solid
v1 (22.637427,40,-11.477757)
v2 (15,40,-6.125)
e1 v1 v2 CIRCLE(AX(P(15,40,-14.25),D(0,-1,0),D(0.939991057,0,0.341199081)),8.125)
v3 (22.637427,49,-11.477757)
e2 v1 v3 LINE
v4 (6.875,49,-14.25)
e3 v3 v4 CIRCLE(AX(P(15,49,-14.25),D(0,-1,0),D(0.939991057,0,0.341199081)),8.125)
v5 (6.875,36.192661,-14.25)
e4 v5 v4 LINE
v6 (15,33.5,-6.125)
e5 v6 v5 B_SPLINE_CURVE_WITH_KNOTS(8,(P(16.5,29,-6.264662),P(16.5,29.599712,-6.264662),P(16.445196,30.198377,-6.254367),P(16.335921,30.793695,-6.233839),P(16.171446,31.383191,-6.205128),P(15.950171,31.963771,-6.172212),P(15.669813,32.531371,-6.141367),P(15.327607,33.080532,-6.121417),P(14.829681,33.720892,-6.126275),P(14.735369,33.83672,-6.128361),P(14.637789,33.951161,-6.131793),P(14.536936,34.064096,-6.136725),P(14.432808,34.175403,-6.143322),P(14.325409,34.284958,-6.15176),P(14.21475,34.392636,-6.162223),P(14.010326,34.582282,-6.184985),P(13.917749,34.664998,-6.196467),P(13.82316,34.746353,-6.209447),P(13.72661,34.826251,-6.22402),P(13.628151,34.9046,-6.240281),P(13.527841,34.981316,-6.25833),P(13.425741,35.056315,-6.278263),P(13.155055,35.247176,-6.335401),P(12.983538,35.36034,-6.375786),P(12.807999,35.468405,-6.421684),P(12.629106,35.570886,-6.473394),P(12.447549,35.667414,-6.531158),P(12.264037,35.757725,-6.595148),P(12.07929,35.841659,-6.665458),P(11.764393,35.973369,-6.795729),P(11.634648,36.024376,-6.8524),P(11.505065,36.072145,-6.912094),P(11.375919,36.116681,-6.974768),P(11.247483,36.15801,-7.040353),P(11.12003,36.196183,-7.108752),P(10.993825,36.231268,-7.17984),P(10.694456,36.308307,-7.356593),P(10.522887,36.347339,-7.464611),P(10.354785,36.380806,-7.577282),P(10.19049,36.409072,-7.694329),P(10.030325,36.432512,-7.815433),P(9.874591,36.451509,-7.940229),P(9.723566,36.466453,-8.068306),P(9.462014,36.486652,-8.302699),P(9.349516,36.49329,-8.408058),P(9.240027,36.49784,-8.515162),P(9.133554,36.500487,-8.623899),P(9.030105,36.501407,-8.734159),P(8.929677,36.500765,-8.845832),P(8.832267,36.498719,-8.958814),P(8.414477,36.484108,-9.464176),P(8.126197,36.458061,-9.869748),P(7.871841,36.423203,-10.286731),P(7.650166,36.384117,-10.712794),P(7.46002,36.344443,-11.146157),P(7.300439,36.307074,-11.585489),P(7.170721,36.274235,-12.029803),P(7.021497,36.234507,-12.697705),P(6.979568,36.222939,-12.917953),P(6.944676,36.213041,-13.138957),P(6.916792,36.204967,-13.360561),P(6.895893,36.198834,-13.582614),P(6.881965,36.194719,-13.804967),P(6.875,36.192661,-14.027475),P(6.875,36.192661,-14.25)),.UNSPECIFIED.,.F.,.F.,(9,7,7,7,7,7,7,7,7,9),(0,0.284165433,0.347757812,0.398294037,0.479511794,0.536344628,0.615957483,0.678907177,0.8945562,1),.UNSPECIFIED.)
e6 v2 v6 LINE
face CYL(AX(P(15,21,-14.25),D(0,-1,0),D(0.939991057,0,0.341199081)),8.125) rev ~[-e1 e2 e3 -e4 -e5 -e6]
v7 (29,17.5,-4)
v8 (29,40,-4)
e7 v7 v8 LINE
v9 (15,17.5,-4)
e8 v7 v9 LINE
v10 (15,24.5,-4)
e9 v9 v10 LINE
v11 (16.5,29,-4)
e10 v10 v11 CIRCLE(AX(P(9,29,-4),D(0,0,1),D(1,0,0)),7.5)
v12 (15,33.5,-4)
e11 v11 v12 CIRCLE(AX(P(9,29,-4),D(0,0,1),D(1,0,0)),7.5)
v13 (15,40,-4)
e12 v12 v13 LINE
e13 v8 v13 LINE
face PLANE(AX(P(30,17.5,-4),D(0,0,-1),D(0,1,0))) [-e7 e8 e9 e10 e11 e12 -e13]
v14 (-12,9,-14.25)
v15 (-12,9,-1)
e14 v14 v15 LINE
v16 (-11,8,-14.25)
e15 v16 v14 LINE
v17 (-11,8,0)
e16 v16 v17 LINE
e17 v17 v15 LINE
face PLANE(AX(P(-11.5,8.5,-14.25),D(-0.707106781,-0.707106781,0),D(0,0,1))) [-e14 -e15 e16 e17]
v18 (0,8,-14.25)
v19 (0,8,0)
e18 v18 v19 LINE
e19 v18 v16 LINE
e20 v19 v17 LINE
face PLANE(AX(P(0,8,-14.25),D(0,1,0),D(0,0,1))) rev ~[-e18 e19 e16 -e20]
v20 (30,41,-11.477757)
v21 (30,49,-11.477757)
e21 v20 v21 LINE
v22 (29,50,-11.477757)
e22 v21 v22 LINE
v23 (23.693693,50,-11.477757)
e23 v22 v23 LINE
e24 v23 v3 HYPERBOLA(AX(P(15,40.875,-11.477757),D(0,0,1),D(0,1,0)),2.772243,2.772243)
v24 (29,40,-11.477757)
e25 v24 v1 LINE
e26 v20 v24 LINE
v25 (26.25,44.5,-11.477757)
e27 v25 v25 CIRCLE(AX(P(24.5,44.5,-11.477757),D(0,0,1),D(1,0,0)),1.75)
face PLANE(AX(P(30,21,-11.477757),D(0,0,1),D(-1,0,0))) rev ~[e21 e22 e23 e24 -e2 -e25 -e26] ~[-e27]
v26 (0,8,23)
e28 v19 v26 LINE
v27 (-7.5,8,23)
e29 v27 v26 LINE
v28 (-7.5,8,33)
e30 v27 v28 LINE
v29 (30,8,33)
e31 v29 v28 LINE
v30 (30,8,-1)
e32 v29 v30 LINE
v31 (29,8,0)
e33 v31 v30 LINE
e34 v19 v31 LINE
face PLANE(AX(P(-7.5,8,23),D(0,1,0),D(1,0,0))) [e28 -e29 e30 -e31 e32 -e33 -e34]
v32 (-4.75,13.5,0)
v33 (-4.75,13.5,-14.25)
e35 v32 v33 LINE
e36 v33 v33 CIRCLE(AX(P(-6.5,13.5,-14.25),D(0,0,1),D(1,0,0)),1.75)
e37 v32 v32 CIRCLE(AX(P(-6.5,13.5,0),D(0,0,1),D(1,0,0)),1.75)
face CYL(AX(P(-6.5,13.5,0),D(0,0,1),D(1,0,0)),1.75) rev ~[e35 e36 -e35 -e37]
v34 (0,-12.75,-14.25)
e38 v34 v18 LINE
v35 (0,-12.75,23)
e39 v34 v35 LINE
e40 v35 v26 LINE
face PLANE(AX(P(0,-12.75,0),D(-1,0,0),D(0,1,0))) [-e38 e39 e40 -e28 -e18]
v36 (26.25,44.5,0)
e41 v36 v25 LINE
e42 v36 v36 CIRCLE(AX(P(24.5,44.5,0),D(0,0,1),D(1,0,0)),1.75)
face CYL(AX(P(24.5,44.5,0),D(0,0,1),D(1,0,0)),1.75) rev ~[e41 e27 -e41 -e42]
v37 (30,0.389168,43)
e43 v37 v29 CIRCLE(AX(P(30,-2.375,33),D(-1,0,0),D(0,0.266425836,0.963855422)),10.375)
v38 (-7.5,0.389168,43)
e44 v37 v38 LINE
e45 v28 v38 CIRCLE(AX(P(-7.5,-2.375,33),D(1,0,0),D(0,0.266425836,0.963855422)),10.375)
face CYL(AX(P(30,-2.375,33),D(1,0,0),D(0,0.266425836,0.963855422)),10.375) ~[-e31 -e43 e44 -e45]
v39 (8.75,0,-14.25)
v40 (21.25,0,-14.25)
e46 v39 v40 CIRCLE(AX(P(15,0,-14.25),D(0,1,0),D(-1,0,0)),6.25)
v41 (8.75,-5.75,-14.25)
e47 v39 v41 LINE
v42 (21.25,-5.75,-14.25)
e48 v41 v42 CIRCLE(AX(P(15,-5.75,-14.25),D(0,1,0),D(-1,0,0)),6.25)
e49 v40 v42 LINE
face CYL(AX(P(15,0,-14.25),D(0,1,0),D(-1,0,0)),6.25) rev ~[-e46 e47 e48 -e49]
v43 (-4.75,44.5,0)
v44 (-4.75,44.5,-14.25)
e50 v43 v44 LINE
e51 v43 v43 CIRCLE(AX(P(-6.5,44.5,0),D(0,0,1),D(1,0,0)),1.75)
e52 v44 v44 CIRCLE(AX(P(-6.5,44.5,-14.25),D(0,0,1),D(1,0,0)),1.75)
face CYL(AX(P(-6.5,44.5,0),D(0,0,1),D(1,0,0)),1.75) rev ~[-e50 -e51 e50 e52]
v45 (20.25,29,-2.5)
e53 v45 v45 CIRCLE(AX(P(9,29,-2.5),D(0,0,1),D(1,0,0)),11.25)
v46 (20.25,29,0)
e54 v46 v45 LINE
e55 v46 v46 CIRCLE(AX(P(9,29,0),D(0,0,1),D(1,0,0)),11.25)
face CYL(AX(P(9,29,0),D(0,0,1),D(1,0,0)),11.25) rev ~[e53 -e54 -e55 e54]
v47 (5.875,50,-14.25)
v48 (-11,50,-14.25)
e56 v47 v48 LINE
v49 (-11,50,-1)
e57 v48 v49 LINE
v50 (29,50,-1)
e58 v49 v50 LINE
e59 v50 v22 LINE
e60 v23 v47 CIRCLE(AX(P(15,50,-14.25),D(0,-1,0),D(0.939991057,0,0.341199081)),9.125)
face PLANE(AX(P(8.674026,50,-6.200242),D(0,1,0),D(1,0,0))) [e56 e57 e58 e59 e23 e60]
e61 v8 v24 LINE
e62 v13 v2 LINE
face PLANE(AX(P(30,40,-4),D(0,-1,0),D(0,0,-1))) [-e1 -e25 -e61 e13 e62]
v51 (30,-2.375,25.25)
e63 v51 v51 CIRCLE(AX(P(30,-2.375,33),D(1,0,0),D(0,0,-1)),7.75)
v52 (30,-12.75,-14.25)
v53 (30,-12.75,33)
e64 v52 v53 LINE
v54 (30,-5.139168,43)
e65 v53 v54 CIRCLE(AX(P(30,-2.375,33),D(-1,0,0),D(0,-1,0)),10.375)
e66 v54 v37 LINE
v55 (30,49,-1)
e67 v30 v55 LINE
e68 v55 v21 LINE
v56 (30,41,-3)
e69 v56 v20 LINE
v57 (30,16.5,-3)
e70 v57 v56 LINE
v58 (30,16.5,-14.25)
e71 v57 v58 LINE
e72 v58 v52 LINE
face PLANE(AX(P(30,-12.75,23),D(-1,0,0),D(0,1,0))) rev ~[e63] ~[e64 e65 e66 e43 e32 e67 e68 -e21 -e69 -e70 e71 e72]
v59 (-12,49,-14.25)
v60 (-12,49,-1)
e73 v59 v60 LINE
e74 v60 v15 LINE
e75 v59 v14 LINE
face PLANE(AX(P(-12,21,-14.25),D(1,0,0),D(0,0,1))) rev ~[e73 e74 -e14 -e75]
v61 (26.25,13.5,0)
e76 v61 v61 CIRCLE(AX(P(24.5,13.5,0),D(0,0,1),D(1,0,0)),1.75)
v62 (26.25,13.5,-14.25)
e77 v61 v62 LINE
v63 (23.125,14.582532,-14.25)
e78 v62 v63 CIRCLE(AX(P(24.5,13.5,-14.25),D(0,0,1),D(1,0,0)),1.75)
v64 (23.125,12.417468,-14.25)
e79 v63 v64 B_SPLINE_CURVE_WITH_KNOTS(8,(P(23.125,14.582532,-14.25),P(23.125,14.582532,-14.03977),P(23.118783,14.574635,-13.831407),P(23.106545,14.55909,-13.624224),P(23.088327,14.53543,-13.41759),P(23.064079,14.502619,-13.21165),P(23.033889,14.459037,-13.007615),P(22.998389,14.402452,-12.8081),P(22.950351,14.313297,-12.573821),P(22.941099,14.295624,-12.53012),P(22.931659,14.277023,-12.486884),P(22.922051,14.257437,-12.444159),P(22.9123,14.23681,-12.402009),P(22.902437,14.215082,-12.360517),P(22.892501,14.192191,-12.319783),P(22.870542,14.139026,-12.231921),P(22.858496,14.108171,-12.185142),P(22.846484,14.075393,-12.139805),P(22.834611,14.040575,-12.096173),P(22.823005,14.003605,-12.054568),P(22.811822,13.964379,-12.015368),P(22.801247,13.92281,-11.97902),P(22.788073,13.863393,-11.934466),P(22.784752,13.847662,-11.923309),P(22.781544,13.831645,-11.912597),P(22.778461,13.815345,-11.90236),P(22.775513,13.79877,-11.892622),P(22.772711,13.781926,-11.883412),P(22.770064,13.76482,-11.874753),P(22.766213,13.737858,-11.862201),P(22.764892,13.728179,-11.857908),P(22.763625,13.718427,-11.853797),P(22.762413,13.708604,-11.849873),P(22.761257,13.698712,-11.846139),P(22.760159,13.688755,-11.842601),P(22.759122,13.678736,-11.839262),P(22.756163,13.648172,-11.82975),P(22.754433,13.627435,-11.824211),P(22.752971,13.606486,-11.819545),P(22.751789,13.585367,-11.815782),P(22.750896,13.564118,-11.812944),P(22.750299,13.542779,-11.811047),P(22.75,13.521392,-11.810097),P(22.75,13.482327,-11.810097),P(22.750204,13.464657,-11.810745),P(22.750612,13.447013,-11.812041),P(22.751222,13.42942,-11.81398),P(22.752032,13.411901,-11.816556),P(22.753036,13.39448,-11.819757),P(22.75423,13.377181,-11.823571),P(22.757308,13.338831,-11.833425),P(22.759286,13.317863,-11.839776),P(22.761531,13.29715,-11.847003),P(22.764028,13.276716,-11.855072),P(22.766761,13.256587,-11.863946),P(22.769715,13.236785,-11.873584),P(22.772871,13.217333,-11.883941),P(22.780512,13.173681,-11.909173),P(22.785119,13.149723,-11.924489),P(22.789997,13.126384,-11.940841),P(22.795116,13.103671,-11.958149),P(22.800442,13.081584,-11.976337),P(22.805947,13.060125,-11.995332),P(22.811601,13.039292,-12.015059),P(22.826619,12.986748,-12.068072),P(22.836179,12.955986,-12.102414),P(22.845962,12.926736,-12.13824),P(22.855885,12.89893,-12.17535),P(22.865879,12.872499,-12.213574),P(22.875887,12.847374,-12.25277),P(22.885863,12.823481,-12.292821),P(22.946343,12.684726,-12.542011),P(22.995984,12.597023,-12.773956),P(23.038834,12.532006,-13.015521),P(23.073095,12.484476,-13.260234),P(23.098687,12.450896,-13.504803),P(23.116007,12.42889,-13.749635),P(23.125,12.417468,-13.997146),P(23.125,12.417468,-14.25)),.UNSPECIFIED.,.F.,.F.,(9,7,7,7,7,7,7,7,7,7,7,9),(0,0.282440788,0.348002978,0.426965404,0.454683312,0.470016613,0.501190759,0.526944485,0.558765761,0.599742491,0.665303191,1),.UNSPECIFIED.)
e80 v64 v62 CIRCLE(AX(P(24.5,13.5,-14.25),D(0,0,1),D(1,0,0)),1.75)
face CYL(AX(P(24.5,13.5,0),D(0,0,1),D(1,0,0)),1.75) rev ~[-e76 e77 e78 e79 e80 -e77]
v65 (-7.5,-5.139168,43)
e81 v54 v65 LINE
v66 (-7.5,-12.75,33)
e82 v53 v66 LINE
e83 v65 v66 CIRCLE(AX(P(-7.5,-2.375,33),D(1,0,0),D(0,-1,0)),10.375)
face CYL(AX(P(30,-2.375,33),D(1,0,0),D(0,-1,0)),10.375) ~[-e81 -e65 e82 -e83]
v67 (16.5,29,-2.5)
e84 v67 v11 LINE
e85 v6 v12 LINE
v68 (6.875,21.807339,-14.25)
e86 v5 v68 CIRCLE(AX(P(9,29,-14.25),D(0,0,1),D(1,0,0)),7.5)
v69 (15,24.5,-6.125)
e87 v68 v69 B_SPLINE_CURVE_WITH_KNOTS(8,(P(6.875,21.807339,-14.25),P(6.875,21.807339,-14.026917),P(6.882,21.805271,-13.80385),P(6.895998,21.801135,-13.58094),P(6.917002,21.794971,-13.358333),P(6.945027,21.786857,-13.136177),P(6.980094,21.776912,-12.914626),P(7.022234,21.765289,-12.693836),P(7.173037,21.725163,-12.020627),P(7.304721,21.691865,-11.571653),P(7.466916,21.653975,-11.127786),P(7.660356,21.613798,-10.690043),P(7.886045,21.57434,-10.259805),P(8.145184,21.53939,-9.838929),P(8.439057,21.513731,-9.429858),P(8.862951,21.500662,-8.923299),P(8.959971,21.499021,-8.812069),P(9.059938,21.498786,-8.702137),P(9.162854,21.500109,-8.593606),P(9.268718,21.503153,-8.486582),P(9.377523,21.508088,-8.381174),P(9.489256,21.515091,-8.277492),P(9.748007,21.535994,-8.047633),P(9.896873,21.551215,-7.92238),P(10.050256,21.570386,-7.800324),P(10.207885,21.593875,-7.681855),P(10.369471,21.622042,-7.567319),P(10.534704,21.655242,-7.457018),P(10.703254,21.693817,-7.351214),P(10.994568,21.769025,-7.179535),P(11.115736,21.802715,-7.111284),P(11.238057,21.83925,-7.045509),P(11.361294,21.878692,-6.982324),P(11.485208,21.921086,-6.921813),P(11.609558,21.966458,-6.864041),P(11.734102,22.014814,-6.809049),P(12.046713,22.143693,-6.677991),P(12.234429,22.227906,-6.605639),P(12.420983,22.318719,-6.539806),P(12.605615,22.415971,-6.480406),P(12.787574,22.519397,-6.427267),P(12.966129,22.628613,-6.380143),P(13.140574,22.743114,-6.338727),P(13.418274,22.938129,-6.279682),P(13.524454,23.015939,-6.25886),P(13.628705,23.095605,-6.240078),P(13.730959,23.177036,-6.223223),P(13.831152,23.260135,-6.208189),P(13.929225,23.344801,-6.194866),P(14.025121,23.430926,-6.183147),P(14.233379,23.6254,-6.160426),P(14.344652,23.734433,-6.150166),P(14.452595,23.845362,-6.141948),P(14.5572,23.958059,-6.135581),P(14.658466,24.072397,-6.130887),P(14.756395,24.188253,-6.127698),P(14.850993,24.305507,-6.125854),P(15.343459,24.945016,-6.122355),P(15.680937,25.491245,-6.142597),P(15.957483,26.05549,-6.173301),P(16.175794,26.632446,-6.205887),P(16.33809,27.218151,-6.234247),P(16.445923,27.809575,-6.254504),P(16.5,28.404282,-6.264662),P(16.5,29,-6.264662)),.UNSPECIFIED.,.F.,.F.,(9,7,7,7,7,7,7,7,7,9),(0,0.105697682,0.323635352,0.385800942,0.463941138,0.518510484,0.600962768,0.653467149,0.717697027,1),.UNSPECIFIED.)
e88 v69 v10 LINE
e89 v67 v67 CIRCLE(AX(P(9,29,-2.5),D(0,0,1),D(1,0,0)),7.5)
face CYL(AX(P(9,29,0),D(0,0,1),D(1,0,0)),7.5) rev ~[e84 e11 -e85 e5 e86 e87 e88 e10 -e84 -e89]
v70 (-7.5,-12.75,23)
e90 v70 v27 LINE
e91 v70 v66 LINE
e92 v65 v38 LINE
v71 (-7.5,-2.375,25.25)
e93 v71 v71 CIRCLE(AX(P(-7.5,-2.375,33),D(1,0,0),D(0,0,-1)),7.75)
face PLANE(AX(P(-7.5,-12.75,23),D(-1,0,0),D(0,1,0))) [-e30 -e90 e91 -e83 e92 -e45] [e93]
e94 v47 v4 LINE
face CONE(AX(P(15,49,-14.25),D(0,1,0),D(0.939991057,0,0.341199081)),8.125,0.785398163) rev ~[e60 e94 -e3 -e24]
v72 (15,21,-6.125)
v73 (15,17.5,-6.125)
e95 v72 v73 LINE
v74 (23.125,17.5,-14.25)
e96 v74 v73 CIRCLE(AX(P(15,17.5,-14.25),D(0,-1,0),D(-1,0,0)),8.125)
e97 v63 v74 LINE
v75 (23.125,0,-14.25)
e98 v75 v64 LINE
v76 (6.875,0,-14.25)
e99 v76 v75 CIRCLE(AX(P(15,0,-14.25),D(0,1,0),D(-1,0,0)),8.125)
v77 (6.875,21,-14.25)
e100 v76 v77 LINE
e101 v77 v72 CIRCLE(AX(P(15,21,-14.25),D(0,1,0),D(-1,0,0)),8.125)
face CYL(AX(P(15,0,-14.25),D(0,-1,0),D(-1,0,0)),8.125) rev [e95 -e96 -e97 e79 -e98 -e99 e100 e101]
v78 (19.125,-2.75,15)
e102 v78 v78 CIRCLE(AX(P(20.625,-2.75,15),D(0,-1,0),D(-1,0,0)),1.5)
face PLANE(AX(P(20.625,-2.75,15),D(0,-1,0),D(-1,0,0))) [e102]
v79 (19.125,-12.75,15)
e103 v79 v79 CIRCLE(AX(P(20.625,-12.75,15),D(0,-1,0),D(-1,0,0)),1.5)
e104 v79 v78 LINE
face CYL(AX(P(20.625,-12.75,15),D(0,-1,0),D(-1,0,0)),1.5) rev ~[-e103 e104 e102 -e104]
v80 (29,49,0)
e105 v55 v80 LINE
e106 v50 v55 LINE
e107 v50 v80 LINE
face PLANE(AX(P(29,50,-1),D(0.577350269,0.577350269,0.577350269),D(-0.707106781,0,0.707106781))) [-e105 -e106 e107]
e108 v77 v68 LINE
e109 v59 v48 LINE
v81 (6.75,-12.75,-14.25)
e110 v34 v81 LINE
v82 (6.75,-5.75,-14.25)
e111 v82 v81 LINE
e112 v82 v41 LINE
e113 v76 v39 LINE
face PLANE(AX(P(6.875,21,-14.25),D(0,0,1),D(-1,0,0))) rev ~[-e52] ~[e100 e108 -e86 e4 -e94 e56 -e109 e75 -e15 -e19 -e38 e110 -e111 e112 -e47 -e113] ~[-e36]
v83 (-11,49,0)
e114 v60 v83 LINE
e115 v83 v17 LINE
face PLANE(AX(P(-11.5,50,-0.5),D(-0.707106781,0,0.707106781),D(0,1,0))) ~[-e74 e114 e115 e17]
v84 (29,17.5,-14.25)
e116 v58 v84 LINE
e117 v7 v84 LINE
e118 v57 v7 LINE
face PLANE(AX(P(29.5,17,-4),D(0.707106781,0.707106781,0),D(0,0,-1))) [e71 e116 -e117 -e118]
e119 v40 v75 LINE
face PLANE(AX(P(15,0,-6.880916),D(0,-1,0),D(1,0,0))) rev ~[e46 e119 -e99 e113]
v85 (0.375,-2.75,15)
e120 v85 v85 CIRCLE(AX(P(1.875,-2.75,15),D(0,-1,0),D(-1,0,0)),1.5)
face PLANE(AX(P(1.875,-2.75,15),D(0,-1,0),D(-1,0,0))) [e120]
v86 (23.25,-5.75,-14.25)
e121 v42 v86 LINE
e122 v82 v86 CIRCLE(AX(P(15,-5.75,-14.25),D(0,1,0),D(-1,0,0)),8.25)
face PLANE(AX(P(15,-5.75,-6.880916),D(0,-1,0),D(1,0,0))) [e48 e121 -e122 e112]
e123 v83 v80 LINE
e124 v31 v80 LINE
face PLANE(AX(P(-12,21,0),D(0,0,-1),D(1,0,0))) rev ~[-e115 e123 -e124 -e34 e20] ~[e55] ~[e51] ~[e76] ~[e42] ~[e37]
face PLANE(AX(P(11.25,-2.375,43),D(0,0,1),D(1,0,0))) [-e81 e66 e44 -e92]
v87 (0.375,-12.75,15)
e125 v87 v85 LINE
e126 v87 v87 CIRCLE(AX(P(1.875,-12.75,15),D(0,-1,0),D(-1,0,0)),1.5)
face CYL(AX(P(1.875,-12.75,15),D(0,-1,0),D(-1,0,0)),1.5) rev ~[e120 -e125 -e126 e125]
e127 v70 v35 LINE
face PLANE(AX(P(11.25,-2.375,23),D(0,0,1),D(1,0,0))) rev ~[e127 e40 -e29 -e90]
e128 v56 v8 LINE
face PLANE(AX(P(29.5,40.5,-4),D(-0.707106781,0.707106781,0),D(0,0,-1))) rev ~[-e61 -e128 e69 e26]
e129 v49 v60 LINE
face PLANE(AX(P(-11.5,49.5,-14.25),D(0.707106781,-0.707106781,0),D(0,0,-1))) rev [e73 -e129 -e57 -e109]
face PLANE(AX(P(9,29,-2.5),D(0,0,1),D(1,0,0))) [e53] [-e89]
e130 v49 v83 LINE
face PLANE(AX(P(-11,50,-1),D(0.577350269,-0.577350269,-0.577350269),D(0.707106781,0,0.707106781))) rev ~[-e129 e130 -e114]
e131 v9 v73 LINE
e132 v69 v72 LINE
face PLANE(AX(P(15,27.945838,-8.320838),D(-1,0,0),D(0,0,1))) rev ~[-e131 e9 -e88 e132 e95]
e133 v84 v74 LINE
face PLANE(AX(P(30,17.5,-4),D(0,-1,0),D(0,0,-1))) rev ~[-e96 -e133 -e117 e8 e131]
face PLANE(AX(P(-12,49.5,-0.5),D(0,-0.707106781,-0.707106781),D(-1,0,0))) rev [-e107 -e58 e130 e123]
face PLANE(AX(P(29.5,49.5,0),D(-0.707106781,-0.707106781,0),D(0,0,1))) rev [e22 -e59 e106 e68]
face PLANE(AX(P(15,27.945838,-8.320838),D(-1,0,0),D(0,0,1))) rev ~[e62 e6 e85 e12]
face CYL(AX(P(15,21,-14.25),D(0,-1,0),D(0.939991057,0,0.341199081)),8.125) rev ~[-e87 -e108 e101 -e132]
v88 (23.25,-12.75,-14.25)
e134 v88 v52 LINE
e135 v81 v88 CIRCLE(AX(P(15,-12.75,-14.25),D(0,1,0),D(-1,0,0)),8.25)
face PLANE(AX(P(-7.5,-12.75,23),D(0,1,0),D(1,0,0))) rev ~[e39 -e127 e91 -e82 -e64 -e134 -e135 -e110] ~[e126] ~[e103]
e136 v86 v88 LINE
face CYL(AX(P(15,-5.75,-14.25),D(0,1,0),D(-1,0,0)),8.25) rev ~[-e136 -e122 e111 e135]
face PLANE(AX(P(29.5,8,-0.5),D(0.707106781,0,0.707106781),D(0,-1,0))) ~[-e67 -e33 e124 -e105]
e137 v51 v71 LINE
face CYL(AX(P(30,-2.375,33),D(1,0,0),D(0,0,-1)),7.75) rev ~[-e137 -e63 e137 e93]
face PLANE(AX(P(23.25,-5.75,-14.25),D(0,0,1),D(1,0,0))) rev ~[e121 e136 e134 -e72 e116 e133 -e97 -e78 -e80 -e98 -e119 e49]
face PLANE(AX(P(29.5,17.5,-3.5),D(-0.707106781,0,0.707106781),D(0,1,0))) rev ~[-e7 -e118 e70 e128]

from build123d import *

# Parameters (mm, degrees)
BOSS_EXTRUDE1_DEPTH = 21
BOSS_EXTRUDE2_DEPTH = 5.75
BOSS_EXTRUDE3_DEPTH = 7
SKETCH6_W           = 14.25
SKETCH6_H           = 13
BOSS_EXTRUDE4_DEPTH = 12
BOSS_EXTRUDE5_DEPTH = 29
SKETCH8_R           = 11.25
CUT_EXTRUDE1_DEPTH  = 2.5
SKETCH9_R           = 1.75
SKETCH9_R_2         = 7.5
CUT_EXTRUDE2_DEPTH  = 15.25
SKETCH10_W          = 30
SKETCH10_H          = 20.75
BOSS_EXTRUDE6_DEPTH = 23
CUT_EXTRUDE4_DEPTH  = 15
SKETCH12_W          = 37.5
SKETCH12_H          = 20.75
BOSS_EXTRUDE7_DEPTH = 20
SKETCH13_R          = 7.75
CUT_EXTRUDE5_DEPTH  = 43
SKETCH14_R          = 1.5
CUT_EXTRUDE6_DEPTH  = 10
CHAMFER1_SIZE       = 1


with BuildPart() as part:
    # Sketch1 → Boss-Extrude1 (new body)
    with BuildSketch(Plane(origin=(0, 0, 0), x_dir=(1, 0, 0), z_dir=(0, 1, 0))):
        with BuildLine():
            Line((23.125, 14.25), (30, 14.25))
            Line((30, 14.25), (30, 0))
            Line((30, 0), (0, 0))
            Line((0, 0), (0, 14.25))
            Line((0, 14.25), (6.875, 14.25))
            ThreePointArc((6.875, 14.25), (15, 6.125), (23.125, 14.25))
        make_face()
    extrude(amount=BOSS_EXTRUDE1_DEPTH)

    # Sketch2 → Boss-Extrude2 (add)
    with BuildSketch(Plane.XZ):
        with BuildLine():
            Line((21.25, -14.25), (30, -14.25))
            Line((30, -14.25), (30, 0))
            Line((30, 0), (0, 0))
            Line((0, 0), (0, -14.25))
            Line((0, -14.25), (8.75, -14.25))
            ThreePointArc((8.75, -14.25), (15, -8), (21.25, -14.25))
        make_face()
    extrude(amount=BOSS_EXTRUDE2_DEPTH)

    # Sketch3 → Boss-Extrude3 (add)
    with BuildSketch(Plane.XZ.offset(5.75)):
        with BuildLine():
            Line((23.25, -14.25), (30, -14.25))
            Line((30, -14.25), (30, 0))
            Line((30, 0), (0, 0))
            Line((0, 0), (0, -14.25))
            Line((0, -14.25), (6.75, -14.25))
            ThreePointArc((6.75, -14.25), (15, -6), (23.25, -14.25))
        make_face()
    extrude(amount=BOSS_EXTRUDE3_DEPTH)

    # Sketch6 → Boss-Extrude4 (add)
    with BuildSketch(Plane.ZY):
        with Locations((-7.125, 14.5)):
            Rectangle(SKETCH6_W, SKETCH6_H)
    extrude(amount=BOSS_EXTRUDE4_DEPTH)

    # Sketch7 → Boss-Extrude5 (add)
    with BuildSketch(Plane(origin=(0, 21, 0), x_dir=(1, 0, 0), z_dir=(0, 1, 0))):
        with BuildLine():
            Line((-12, 0), (30, 0))
            Line((30, 0), (30, 5.621629424))
            Line((30, 5.621629424), (30, 11.47775747))
            Line((30, 11.47775747), (24.530058266, 11.47775747))
            Line((24.530058266, 11.47775747), (22.637427339, 11.47775747))
            ThreePointArc((22.637427339, 11.47775747), (13.592603845, 6.24782148), (6.875, 14.25))
            Line((6.875, 14.25), (0.717619185, 14.25))
            Line((0.717619185, 14.25), (-12, 14.25))
            Line((-12, 14.25), (-12, 5.621629424))
            Line((-12, 5.621629424), (-12, 0))
        make_face()
    extrude(amount=BOSS_EXTRUDE5_DEPTH)

    # Sketch8 → Cut-Extrude1 (cut)
    with BuildSketch(Plane.XY):
        with Locations((9, 29)):
            Circle(SKETCH8_R)
    extrude(amount=-CUT_EXTRUDE1_DEPTH, mode=Mode.SUBTRACT)

    # Sketch9 → Cut-Extrude2 (cut, through all)
    with BuildSketch(Plane.XY):
        with Locations((-6.5, 44.5)):
            Circle(SKETCH9_R)
        with Locations((-6.5, 13.5)):
            Circle(SKETCH9_R)
        with Locations((24.5, 13.5)):
            Circle(SKETCH9_R)
        with Locations((24.5, 44.5)):
            Circle(SKETCH9_R)
        with Locations((9, 29)):
            Circle(SKETCH9_R_2)
    extrude(amount=-CUT_EXTRUDE2_DEPTH, mode=Mode.SUBTRACT)

    # Sketch10 → Boss-Extrude6 (add)
    with BuildSketch(Plane.XY):
        with Locations((15, -2.375)):
            Rectangle(SKETCH10_W, SKETCH10_H)
    extrude(amount=BOSS_EXTRUDE6_DEPTH)

    # Sketch11 → Cut-Extrude4 (cut)
    with BuildSketch(Plane(origin=(30, 0, 0), x_dir=(0, 0, -1), z_dir=(1, 0, 0))):
        Polygon((11.47775747, 17.5), (4, 17.5), (4, 40), (11.47775747, 40), (11.47775747, 21), (14.25, 21), (14.25, 17.5), align=None)
    extrude(amount=-CUT_EXTRUDE4_DEPTH, mode=Mode.SUBTRACT)

    # Sketch12 → Boss-Extrude7 (add)
    with BuildSketch(Plane.XY.offset(23)):
        with Locations((11.25, -2.375)):
            Rectangle(SKETCH12_W, SKETCH12_H)
    extrude(amount=BOSS_EXTRUDE7_DEPTH)

    # Sketch13 → Cut-Extrude5 (cut, through all)
    with BuildSketch(Plane(origin=(30, 0, 0), x_dir=(0, 0, -1), z_dir=(1, 0, 0))):
        with BuildLine():
            ThreePointArc((-43, 0.389168048), (-39.283405983, 5.880872713), (-33, 8))
            Line((-33, 8), (-43, 8))
            Line((-43, 8), (-43, 0.389168048))
        make_face()
        with BuildLine():
            ThreePointArc((-33, -12.75), (-39.283405983, -10.630872713), (-43, -5.139168048))
            Line((-43, -5.139168048), (-43, -12.75))
            Line((-43, -12.75), (-33, -12.75))
        make_face()
        with Locations((-33, -2.375)):
            Circle(SKETCH13_R)
    extrude(amount=-CUT_EXTRUDE5_DEPTH, mode=Mode.SUBTRACT)

    # Sketch14 → Cut-Extrude6 (cut)
    with BuildSketch(Plane(origin=(0, -12.75, 0), x_dir=(-1, 0, 0), z_dir=(0, -1, 0))):
        with Locations((-20.625, -15)):
            Circle(SKETCH14_R)
        with Locations((-1.875, -15)):
            Circle(SKETCH14_R)
    extrude(amount=-CUT_EXTRUDE6_DEPTH, mode=Mode.SUBTRACT)

    # Chamfer1
    chamfer1_edges = [part.edges().sort_by_distance(p)[0] for p in [
        (30, 29, 0),
        (30, 17.5, -9.125),
        (30, 40, -7.738878735),
        (30, 28.75, -4),
        (-12, 29, 0),
        (-12, 8, -7.125),
        (-12, 50, -7.125),
        (13.592603845, 50, -6.24782148),
        (30, 50, -5.738878735),
        (9, 50, 0),
    ]]
    chamfer(chamfer1_edges, length=CHAMFER1_SIZE)


solid = part.part
